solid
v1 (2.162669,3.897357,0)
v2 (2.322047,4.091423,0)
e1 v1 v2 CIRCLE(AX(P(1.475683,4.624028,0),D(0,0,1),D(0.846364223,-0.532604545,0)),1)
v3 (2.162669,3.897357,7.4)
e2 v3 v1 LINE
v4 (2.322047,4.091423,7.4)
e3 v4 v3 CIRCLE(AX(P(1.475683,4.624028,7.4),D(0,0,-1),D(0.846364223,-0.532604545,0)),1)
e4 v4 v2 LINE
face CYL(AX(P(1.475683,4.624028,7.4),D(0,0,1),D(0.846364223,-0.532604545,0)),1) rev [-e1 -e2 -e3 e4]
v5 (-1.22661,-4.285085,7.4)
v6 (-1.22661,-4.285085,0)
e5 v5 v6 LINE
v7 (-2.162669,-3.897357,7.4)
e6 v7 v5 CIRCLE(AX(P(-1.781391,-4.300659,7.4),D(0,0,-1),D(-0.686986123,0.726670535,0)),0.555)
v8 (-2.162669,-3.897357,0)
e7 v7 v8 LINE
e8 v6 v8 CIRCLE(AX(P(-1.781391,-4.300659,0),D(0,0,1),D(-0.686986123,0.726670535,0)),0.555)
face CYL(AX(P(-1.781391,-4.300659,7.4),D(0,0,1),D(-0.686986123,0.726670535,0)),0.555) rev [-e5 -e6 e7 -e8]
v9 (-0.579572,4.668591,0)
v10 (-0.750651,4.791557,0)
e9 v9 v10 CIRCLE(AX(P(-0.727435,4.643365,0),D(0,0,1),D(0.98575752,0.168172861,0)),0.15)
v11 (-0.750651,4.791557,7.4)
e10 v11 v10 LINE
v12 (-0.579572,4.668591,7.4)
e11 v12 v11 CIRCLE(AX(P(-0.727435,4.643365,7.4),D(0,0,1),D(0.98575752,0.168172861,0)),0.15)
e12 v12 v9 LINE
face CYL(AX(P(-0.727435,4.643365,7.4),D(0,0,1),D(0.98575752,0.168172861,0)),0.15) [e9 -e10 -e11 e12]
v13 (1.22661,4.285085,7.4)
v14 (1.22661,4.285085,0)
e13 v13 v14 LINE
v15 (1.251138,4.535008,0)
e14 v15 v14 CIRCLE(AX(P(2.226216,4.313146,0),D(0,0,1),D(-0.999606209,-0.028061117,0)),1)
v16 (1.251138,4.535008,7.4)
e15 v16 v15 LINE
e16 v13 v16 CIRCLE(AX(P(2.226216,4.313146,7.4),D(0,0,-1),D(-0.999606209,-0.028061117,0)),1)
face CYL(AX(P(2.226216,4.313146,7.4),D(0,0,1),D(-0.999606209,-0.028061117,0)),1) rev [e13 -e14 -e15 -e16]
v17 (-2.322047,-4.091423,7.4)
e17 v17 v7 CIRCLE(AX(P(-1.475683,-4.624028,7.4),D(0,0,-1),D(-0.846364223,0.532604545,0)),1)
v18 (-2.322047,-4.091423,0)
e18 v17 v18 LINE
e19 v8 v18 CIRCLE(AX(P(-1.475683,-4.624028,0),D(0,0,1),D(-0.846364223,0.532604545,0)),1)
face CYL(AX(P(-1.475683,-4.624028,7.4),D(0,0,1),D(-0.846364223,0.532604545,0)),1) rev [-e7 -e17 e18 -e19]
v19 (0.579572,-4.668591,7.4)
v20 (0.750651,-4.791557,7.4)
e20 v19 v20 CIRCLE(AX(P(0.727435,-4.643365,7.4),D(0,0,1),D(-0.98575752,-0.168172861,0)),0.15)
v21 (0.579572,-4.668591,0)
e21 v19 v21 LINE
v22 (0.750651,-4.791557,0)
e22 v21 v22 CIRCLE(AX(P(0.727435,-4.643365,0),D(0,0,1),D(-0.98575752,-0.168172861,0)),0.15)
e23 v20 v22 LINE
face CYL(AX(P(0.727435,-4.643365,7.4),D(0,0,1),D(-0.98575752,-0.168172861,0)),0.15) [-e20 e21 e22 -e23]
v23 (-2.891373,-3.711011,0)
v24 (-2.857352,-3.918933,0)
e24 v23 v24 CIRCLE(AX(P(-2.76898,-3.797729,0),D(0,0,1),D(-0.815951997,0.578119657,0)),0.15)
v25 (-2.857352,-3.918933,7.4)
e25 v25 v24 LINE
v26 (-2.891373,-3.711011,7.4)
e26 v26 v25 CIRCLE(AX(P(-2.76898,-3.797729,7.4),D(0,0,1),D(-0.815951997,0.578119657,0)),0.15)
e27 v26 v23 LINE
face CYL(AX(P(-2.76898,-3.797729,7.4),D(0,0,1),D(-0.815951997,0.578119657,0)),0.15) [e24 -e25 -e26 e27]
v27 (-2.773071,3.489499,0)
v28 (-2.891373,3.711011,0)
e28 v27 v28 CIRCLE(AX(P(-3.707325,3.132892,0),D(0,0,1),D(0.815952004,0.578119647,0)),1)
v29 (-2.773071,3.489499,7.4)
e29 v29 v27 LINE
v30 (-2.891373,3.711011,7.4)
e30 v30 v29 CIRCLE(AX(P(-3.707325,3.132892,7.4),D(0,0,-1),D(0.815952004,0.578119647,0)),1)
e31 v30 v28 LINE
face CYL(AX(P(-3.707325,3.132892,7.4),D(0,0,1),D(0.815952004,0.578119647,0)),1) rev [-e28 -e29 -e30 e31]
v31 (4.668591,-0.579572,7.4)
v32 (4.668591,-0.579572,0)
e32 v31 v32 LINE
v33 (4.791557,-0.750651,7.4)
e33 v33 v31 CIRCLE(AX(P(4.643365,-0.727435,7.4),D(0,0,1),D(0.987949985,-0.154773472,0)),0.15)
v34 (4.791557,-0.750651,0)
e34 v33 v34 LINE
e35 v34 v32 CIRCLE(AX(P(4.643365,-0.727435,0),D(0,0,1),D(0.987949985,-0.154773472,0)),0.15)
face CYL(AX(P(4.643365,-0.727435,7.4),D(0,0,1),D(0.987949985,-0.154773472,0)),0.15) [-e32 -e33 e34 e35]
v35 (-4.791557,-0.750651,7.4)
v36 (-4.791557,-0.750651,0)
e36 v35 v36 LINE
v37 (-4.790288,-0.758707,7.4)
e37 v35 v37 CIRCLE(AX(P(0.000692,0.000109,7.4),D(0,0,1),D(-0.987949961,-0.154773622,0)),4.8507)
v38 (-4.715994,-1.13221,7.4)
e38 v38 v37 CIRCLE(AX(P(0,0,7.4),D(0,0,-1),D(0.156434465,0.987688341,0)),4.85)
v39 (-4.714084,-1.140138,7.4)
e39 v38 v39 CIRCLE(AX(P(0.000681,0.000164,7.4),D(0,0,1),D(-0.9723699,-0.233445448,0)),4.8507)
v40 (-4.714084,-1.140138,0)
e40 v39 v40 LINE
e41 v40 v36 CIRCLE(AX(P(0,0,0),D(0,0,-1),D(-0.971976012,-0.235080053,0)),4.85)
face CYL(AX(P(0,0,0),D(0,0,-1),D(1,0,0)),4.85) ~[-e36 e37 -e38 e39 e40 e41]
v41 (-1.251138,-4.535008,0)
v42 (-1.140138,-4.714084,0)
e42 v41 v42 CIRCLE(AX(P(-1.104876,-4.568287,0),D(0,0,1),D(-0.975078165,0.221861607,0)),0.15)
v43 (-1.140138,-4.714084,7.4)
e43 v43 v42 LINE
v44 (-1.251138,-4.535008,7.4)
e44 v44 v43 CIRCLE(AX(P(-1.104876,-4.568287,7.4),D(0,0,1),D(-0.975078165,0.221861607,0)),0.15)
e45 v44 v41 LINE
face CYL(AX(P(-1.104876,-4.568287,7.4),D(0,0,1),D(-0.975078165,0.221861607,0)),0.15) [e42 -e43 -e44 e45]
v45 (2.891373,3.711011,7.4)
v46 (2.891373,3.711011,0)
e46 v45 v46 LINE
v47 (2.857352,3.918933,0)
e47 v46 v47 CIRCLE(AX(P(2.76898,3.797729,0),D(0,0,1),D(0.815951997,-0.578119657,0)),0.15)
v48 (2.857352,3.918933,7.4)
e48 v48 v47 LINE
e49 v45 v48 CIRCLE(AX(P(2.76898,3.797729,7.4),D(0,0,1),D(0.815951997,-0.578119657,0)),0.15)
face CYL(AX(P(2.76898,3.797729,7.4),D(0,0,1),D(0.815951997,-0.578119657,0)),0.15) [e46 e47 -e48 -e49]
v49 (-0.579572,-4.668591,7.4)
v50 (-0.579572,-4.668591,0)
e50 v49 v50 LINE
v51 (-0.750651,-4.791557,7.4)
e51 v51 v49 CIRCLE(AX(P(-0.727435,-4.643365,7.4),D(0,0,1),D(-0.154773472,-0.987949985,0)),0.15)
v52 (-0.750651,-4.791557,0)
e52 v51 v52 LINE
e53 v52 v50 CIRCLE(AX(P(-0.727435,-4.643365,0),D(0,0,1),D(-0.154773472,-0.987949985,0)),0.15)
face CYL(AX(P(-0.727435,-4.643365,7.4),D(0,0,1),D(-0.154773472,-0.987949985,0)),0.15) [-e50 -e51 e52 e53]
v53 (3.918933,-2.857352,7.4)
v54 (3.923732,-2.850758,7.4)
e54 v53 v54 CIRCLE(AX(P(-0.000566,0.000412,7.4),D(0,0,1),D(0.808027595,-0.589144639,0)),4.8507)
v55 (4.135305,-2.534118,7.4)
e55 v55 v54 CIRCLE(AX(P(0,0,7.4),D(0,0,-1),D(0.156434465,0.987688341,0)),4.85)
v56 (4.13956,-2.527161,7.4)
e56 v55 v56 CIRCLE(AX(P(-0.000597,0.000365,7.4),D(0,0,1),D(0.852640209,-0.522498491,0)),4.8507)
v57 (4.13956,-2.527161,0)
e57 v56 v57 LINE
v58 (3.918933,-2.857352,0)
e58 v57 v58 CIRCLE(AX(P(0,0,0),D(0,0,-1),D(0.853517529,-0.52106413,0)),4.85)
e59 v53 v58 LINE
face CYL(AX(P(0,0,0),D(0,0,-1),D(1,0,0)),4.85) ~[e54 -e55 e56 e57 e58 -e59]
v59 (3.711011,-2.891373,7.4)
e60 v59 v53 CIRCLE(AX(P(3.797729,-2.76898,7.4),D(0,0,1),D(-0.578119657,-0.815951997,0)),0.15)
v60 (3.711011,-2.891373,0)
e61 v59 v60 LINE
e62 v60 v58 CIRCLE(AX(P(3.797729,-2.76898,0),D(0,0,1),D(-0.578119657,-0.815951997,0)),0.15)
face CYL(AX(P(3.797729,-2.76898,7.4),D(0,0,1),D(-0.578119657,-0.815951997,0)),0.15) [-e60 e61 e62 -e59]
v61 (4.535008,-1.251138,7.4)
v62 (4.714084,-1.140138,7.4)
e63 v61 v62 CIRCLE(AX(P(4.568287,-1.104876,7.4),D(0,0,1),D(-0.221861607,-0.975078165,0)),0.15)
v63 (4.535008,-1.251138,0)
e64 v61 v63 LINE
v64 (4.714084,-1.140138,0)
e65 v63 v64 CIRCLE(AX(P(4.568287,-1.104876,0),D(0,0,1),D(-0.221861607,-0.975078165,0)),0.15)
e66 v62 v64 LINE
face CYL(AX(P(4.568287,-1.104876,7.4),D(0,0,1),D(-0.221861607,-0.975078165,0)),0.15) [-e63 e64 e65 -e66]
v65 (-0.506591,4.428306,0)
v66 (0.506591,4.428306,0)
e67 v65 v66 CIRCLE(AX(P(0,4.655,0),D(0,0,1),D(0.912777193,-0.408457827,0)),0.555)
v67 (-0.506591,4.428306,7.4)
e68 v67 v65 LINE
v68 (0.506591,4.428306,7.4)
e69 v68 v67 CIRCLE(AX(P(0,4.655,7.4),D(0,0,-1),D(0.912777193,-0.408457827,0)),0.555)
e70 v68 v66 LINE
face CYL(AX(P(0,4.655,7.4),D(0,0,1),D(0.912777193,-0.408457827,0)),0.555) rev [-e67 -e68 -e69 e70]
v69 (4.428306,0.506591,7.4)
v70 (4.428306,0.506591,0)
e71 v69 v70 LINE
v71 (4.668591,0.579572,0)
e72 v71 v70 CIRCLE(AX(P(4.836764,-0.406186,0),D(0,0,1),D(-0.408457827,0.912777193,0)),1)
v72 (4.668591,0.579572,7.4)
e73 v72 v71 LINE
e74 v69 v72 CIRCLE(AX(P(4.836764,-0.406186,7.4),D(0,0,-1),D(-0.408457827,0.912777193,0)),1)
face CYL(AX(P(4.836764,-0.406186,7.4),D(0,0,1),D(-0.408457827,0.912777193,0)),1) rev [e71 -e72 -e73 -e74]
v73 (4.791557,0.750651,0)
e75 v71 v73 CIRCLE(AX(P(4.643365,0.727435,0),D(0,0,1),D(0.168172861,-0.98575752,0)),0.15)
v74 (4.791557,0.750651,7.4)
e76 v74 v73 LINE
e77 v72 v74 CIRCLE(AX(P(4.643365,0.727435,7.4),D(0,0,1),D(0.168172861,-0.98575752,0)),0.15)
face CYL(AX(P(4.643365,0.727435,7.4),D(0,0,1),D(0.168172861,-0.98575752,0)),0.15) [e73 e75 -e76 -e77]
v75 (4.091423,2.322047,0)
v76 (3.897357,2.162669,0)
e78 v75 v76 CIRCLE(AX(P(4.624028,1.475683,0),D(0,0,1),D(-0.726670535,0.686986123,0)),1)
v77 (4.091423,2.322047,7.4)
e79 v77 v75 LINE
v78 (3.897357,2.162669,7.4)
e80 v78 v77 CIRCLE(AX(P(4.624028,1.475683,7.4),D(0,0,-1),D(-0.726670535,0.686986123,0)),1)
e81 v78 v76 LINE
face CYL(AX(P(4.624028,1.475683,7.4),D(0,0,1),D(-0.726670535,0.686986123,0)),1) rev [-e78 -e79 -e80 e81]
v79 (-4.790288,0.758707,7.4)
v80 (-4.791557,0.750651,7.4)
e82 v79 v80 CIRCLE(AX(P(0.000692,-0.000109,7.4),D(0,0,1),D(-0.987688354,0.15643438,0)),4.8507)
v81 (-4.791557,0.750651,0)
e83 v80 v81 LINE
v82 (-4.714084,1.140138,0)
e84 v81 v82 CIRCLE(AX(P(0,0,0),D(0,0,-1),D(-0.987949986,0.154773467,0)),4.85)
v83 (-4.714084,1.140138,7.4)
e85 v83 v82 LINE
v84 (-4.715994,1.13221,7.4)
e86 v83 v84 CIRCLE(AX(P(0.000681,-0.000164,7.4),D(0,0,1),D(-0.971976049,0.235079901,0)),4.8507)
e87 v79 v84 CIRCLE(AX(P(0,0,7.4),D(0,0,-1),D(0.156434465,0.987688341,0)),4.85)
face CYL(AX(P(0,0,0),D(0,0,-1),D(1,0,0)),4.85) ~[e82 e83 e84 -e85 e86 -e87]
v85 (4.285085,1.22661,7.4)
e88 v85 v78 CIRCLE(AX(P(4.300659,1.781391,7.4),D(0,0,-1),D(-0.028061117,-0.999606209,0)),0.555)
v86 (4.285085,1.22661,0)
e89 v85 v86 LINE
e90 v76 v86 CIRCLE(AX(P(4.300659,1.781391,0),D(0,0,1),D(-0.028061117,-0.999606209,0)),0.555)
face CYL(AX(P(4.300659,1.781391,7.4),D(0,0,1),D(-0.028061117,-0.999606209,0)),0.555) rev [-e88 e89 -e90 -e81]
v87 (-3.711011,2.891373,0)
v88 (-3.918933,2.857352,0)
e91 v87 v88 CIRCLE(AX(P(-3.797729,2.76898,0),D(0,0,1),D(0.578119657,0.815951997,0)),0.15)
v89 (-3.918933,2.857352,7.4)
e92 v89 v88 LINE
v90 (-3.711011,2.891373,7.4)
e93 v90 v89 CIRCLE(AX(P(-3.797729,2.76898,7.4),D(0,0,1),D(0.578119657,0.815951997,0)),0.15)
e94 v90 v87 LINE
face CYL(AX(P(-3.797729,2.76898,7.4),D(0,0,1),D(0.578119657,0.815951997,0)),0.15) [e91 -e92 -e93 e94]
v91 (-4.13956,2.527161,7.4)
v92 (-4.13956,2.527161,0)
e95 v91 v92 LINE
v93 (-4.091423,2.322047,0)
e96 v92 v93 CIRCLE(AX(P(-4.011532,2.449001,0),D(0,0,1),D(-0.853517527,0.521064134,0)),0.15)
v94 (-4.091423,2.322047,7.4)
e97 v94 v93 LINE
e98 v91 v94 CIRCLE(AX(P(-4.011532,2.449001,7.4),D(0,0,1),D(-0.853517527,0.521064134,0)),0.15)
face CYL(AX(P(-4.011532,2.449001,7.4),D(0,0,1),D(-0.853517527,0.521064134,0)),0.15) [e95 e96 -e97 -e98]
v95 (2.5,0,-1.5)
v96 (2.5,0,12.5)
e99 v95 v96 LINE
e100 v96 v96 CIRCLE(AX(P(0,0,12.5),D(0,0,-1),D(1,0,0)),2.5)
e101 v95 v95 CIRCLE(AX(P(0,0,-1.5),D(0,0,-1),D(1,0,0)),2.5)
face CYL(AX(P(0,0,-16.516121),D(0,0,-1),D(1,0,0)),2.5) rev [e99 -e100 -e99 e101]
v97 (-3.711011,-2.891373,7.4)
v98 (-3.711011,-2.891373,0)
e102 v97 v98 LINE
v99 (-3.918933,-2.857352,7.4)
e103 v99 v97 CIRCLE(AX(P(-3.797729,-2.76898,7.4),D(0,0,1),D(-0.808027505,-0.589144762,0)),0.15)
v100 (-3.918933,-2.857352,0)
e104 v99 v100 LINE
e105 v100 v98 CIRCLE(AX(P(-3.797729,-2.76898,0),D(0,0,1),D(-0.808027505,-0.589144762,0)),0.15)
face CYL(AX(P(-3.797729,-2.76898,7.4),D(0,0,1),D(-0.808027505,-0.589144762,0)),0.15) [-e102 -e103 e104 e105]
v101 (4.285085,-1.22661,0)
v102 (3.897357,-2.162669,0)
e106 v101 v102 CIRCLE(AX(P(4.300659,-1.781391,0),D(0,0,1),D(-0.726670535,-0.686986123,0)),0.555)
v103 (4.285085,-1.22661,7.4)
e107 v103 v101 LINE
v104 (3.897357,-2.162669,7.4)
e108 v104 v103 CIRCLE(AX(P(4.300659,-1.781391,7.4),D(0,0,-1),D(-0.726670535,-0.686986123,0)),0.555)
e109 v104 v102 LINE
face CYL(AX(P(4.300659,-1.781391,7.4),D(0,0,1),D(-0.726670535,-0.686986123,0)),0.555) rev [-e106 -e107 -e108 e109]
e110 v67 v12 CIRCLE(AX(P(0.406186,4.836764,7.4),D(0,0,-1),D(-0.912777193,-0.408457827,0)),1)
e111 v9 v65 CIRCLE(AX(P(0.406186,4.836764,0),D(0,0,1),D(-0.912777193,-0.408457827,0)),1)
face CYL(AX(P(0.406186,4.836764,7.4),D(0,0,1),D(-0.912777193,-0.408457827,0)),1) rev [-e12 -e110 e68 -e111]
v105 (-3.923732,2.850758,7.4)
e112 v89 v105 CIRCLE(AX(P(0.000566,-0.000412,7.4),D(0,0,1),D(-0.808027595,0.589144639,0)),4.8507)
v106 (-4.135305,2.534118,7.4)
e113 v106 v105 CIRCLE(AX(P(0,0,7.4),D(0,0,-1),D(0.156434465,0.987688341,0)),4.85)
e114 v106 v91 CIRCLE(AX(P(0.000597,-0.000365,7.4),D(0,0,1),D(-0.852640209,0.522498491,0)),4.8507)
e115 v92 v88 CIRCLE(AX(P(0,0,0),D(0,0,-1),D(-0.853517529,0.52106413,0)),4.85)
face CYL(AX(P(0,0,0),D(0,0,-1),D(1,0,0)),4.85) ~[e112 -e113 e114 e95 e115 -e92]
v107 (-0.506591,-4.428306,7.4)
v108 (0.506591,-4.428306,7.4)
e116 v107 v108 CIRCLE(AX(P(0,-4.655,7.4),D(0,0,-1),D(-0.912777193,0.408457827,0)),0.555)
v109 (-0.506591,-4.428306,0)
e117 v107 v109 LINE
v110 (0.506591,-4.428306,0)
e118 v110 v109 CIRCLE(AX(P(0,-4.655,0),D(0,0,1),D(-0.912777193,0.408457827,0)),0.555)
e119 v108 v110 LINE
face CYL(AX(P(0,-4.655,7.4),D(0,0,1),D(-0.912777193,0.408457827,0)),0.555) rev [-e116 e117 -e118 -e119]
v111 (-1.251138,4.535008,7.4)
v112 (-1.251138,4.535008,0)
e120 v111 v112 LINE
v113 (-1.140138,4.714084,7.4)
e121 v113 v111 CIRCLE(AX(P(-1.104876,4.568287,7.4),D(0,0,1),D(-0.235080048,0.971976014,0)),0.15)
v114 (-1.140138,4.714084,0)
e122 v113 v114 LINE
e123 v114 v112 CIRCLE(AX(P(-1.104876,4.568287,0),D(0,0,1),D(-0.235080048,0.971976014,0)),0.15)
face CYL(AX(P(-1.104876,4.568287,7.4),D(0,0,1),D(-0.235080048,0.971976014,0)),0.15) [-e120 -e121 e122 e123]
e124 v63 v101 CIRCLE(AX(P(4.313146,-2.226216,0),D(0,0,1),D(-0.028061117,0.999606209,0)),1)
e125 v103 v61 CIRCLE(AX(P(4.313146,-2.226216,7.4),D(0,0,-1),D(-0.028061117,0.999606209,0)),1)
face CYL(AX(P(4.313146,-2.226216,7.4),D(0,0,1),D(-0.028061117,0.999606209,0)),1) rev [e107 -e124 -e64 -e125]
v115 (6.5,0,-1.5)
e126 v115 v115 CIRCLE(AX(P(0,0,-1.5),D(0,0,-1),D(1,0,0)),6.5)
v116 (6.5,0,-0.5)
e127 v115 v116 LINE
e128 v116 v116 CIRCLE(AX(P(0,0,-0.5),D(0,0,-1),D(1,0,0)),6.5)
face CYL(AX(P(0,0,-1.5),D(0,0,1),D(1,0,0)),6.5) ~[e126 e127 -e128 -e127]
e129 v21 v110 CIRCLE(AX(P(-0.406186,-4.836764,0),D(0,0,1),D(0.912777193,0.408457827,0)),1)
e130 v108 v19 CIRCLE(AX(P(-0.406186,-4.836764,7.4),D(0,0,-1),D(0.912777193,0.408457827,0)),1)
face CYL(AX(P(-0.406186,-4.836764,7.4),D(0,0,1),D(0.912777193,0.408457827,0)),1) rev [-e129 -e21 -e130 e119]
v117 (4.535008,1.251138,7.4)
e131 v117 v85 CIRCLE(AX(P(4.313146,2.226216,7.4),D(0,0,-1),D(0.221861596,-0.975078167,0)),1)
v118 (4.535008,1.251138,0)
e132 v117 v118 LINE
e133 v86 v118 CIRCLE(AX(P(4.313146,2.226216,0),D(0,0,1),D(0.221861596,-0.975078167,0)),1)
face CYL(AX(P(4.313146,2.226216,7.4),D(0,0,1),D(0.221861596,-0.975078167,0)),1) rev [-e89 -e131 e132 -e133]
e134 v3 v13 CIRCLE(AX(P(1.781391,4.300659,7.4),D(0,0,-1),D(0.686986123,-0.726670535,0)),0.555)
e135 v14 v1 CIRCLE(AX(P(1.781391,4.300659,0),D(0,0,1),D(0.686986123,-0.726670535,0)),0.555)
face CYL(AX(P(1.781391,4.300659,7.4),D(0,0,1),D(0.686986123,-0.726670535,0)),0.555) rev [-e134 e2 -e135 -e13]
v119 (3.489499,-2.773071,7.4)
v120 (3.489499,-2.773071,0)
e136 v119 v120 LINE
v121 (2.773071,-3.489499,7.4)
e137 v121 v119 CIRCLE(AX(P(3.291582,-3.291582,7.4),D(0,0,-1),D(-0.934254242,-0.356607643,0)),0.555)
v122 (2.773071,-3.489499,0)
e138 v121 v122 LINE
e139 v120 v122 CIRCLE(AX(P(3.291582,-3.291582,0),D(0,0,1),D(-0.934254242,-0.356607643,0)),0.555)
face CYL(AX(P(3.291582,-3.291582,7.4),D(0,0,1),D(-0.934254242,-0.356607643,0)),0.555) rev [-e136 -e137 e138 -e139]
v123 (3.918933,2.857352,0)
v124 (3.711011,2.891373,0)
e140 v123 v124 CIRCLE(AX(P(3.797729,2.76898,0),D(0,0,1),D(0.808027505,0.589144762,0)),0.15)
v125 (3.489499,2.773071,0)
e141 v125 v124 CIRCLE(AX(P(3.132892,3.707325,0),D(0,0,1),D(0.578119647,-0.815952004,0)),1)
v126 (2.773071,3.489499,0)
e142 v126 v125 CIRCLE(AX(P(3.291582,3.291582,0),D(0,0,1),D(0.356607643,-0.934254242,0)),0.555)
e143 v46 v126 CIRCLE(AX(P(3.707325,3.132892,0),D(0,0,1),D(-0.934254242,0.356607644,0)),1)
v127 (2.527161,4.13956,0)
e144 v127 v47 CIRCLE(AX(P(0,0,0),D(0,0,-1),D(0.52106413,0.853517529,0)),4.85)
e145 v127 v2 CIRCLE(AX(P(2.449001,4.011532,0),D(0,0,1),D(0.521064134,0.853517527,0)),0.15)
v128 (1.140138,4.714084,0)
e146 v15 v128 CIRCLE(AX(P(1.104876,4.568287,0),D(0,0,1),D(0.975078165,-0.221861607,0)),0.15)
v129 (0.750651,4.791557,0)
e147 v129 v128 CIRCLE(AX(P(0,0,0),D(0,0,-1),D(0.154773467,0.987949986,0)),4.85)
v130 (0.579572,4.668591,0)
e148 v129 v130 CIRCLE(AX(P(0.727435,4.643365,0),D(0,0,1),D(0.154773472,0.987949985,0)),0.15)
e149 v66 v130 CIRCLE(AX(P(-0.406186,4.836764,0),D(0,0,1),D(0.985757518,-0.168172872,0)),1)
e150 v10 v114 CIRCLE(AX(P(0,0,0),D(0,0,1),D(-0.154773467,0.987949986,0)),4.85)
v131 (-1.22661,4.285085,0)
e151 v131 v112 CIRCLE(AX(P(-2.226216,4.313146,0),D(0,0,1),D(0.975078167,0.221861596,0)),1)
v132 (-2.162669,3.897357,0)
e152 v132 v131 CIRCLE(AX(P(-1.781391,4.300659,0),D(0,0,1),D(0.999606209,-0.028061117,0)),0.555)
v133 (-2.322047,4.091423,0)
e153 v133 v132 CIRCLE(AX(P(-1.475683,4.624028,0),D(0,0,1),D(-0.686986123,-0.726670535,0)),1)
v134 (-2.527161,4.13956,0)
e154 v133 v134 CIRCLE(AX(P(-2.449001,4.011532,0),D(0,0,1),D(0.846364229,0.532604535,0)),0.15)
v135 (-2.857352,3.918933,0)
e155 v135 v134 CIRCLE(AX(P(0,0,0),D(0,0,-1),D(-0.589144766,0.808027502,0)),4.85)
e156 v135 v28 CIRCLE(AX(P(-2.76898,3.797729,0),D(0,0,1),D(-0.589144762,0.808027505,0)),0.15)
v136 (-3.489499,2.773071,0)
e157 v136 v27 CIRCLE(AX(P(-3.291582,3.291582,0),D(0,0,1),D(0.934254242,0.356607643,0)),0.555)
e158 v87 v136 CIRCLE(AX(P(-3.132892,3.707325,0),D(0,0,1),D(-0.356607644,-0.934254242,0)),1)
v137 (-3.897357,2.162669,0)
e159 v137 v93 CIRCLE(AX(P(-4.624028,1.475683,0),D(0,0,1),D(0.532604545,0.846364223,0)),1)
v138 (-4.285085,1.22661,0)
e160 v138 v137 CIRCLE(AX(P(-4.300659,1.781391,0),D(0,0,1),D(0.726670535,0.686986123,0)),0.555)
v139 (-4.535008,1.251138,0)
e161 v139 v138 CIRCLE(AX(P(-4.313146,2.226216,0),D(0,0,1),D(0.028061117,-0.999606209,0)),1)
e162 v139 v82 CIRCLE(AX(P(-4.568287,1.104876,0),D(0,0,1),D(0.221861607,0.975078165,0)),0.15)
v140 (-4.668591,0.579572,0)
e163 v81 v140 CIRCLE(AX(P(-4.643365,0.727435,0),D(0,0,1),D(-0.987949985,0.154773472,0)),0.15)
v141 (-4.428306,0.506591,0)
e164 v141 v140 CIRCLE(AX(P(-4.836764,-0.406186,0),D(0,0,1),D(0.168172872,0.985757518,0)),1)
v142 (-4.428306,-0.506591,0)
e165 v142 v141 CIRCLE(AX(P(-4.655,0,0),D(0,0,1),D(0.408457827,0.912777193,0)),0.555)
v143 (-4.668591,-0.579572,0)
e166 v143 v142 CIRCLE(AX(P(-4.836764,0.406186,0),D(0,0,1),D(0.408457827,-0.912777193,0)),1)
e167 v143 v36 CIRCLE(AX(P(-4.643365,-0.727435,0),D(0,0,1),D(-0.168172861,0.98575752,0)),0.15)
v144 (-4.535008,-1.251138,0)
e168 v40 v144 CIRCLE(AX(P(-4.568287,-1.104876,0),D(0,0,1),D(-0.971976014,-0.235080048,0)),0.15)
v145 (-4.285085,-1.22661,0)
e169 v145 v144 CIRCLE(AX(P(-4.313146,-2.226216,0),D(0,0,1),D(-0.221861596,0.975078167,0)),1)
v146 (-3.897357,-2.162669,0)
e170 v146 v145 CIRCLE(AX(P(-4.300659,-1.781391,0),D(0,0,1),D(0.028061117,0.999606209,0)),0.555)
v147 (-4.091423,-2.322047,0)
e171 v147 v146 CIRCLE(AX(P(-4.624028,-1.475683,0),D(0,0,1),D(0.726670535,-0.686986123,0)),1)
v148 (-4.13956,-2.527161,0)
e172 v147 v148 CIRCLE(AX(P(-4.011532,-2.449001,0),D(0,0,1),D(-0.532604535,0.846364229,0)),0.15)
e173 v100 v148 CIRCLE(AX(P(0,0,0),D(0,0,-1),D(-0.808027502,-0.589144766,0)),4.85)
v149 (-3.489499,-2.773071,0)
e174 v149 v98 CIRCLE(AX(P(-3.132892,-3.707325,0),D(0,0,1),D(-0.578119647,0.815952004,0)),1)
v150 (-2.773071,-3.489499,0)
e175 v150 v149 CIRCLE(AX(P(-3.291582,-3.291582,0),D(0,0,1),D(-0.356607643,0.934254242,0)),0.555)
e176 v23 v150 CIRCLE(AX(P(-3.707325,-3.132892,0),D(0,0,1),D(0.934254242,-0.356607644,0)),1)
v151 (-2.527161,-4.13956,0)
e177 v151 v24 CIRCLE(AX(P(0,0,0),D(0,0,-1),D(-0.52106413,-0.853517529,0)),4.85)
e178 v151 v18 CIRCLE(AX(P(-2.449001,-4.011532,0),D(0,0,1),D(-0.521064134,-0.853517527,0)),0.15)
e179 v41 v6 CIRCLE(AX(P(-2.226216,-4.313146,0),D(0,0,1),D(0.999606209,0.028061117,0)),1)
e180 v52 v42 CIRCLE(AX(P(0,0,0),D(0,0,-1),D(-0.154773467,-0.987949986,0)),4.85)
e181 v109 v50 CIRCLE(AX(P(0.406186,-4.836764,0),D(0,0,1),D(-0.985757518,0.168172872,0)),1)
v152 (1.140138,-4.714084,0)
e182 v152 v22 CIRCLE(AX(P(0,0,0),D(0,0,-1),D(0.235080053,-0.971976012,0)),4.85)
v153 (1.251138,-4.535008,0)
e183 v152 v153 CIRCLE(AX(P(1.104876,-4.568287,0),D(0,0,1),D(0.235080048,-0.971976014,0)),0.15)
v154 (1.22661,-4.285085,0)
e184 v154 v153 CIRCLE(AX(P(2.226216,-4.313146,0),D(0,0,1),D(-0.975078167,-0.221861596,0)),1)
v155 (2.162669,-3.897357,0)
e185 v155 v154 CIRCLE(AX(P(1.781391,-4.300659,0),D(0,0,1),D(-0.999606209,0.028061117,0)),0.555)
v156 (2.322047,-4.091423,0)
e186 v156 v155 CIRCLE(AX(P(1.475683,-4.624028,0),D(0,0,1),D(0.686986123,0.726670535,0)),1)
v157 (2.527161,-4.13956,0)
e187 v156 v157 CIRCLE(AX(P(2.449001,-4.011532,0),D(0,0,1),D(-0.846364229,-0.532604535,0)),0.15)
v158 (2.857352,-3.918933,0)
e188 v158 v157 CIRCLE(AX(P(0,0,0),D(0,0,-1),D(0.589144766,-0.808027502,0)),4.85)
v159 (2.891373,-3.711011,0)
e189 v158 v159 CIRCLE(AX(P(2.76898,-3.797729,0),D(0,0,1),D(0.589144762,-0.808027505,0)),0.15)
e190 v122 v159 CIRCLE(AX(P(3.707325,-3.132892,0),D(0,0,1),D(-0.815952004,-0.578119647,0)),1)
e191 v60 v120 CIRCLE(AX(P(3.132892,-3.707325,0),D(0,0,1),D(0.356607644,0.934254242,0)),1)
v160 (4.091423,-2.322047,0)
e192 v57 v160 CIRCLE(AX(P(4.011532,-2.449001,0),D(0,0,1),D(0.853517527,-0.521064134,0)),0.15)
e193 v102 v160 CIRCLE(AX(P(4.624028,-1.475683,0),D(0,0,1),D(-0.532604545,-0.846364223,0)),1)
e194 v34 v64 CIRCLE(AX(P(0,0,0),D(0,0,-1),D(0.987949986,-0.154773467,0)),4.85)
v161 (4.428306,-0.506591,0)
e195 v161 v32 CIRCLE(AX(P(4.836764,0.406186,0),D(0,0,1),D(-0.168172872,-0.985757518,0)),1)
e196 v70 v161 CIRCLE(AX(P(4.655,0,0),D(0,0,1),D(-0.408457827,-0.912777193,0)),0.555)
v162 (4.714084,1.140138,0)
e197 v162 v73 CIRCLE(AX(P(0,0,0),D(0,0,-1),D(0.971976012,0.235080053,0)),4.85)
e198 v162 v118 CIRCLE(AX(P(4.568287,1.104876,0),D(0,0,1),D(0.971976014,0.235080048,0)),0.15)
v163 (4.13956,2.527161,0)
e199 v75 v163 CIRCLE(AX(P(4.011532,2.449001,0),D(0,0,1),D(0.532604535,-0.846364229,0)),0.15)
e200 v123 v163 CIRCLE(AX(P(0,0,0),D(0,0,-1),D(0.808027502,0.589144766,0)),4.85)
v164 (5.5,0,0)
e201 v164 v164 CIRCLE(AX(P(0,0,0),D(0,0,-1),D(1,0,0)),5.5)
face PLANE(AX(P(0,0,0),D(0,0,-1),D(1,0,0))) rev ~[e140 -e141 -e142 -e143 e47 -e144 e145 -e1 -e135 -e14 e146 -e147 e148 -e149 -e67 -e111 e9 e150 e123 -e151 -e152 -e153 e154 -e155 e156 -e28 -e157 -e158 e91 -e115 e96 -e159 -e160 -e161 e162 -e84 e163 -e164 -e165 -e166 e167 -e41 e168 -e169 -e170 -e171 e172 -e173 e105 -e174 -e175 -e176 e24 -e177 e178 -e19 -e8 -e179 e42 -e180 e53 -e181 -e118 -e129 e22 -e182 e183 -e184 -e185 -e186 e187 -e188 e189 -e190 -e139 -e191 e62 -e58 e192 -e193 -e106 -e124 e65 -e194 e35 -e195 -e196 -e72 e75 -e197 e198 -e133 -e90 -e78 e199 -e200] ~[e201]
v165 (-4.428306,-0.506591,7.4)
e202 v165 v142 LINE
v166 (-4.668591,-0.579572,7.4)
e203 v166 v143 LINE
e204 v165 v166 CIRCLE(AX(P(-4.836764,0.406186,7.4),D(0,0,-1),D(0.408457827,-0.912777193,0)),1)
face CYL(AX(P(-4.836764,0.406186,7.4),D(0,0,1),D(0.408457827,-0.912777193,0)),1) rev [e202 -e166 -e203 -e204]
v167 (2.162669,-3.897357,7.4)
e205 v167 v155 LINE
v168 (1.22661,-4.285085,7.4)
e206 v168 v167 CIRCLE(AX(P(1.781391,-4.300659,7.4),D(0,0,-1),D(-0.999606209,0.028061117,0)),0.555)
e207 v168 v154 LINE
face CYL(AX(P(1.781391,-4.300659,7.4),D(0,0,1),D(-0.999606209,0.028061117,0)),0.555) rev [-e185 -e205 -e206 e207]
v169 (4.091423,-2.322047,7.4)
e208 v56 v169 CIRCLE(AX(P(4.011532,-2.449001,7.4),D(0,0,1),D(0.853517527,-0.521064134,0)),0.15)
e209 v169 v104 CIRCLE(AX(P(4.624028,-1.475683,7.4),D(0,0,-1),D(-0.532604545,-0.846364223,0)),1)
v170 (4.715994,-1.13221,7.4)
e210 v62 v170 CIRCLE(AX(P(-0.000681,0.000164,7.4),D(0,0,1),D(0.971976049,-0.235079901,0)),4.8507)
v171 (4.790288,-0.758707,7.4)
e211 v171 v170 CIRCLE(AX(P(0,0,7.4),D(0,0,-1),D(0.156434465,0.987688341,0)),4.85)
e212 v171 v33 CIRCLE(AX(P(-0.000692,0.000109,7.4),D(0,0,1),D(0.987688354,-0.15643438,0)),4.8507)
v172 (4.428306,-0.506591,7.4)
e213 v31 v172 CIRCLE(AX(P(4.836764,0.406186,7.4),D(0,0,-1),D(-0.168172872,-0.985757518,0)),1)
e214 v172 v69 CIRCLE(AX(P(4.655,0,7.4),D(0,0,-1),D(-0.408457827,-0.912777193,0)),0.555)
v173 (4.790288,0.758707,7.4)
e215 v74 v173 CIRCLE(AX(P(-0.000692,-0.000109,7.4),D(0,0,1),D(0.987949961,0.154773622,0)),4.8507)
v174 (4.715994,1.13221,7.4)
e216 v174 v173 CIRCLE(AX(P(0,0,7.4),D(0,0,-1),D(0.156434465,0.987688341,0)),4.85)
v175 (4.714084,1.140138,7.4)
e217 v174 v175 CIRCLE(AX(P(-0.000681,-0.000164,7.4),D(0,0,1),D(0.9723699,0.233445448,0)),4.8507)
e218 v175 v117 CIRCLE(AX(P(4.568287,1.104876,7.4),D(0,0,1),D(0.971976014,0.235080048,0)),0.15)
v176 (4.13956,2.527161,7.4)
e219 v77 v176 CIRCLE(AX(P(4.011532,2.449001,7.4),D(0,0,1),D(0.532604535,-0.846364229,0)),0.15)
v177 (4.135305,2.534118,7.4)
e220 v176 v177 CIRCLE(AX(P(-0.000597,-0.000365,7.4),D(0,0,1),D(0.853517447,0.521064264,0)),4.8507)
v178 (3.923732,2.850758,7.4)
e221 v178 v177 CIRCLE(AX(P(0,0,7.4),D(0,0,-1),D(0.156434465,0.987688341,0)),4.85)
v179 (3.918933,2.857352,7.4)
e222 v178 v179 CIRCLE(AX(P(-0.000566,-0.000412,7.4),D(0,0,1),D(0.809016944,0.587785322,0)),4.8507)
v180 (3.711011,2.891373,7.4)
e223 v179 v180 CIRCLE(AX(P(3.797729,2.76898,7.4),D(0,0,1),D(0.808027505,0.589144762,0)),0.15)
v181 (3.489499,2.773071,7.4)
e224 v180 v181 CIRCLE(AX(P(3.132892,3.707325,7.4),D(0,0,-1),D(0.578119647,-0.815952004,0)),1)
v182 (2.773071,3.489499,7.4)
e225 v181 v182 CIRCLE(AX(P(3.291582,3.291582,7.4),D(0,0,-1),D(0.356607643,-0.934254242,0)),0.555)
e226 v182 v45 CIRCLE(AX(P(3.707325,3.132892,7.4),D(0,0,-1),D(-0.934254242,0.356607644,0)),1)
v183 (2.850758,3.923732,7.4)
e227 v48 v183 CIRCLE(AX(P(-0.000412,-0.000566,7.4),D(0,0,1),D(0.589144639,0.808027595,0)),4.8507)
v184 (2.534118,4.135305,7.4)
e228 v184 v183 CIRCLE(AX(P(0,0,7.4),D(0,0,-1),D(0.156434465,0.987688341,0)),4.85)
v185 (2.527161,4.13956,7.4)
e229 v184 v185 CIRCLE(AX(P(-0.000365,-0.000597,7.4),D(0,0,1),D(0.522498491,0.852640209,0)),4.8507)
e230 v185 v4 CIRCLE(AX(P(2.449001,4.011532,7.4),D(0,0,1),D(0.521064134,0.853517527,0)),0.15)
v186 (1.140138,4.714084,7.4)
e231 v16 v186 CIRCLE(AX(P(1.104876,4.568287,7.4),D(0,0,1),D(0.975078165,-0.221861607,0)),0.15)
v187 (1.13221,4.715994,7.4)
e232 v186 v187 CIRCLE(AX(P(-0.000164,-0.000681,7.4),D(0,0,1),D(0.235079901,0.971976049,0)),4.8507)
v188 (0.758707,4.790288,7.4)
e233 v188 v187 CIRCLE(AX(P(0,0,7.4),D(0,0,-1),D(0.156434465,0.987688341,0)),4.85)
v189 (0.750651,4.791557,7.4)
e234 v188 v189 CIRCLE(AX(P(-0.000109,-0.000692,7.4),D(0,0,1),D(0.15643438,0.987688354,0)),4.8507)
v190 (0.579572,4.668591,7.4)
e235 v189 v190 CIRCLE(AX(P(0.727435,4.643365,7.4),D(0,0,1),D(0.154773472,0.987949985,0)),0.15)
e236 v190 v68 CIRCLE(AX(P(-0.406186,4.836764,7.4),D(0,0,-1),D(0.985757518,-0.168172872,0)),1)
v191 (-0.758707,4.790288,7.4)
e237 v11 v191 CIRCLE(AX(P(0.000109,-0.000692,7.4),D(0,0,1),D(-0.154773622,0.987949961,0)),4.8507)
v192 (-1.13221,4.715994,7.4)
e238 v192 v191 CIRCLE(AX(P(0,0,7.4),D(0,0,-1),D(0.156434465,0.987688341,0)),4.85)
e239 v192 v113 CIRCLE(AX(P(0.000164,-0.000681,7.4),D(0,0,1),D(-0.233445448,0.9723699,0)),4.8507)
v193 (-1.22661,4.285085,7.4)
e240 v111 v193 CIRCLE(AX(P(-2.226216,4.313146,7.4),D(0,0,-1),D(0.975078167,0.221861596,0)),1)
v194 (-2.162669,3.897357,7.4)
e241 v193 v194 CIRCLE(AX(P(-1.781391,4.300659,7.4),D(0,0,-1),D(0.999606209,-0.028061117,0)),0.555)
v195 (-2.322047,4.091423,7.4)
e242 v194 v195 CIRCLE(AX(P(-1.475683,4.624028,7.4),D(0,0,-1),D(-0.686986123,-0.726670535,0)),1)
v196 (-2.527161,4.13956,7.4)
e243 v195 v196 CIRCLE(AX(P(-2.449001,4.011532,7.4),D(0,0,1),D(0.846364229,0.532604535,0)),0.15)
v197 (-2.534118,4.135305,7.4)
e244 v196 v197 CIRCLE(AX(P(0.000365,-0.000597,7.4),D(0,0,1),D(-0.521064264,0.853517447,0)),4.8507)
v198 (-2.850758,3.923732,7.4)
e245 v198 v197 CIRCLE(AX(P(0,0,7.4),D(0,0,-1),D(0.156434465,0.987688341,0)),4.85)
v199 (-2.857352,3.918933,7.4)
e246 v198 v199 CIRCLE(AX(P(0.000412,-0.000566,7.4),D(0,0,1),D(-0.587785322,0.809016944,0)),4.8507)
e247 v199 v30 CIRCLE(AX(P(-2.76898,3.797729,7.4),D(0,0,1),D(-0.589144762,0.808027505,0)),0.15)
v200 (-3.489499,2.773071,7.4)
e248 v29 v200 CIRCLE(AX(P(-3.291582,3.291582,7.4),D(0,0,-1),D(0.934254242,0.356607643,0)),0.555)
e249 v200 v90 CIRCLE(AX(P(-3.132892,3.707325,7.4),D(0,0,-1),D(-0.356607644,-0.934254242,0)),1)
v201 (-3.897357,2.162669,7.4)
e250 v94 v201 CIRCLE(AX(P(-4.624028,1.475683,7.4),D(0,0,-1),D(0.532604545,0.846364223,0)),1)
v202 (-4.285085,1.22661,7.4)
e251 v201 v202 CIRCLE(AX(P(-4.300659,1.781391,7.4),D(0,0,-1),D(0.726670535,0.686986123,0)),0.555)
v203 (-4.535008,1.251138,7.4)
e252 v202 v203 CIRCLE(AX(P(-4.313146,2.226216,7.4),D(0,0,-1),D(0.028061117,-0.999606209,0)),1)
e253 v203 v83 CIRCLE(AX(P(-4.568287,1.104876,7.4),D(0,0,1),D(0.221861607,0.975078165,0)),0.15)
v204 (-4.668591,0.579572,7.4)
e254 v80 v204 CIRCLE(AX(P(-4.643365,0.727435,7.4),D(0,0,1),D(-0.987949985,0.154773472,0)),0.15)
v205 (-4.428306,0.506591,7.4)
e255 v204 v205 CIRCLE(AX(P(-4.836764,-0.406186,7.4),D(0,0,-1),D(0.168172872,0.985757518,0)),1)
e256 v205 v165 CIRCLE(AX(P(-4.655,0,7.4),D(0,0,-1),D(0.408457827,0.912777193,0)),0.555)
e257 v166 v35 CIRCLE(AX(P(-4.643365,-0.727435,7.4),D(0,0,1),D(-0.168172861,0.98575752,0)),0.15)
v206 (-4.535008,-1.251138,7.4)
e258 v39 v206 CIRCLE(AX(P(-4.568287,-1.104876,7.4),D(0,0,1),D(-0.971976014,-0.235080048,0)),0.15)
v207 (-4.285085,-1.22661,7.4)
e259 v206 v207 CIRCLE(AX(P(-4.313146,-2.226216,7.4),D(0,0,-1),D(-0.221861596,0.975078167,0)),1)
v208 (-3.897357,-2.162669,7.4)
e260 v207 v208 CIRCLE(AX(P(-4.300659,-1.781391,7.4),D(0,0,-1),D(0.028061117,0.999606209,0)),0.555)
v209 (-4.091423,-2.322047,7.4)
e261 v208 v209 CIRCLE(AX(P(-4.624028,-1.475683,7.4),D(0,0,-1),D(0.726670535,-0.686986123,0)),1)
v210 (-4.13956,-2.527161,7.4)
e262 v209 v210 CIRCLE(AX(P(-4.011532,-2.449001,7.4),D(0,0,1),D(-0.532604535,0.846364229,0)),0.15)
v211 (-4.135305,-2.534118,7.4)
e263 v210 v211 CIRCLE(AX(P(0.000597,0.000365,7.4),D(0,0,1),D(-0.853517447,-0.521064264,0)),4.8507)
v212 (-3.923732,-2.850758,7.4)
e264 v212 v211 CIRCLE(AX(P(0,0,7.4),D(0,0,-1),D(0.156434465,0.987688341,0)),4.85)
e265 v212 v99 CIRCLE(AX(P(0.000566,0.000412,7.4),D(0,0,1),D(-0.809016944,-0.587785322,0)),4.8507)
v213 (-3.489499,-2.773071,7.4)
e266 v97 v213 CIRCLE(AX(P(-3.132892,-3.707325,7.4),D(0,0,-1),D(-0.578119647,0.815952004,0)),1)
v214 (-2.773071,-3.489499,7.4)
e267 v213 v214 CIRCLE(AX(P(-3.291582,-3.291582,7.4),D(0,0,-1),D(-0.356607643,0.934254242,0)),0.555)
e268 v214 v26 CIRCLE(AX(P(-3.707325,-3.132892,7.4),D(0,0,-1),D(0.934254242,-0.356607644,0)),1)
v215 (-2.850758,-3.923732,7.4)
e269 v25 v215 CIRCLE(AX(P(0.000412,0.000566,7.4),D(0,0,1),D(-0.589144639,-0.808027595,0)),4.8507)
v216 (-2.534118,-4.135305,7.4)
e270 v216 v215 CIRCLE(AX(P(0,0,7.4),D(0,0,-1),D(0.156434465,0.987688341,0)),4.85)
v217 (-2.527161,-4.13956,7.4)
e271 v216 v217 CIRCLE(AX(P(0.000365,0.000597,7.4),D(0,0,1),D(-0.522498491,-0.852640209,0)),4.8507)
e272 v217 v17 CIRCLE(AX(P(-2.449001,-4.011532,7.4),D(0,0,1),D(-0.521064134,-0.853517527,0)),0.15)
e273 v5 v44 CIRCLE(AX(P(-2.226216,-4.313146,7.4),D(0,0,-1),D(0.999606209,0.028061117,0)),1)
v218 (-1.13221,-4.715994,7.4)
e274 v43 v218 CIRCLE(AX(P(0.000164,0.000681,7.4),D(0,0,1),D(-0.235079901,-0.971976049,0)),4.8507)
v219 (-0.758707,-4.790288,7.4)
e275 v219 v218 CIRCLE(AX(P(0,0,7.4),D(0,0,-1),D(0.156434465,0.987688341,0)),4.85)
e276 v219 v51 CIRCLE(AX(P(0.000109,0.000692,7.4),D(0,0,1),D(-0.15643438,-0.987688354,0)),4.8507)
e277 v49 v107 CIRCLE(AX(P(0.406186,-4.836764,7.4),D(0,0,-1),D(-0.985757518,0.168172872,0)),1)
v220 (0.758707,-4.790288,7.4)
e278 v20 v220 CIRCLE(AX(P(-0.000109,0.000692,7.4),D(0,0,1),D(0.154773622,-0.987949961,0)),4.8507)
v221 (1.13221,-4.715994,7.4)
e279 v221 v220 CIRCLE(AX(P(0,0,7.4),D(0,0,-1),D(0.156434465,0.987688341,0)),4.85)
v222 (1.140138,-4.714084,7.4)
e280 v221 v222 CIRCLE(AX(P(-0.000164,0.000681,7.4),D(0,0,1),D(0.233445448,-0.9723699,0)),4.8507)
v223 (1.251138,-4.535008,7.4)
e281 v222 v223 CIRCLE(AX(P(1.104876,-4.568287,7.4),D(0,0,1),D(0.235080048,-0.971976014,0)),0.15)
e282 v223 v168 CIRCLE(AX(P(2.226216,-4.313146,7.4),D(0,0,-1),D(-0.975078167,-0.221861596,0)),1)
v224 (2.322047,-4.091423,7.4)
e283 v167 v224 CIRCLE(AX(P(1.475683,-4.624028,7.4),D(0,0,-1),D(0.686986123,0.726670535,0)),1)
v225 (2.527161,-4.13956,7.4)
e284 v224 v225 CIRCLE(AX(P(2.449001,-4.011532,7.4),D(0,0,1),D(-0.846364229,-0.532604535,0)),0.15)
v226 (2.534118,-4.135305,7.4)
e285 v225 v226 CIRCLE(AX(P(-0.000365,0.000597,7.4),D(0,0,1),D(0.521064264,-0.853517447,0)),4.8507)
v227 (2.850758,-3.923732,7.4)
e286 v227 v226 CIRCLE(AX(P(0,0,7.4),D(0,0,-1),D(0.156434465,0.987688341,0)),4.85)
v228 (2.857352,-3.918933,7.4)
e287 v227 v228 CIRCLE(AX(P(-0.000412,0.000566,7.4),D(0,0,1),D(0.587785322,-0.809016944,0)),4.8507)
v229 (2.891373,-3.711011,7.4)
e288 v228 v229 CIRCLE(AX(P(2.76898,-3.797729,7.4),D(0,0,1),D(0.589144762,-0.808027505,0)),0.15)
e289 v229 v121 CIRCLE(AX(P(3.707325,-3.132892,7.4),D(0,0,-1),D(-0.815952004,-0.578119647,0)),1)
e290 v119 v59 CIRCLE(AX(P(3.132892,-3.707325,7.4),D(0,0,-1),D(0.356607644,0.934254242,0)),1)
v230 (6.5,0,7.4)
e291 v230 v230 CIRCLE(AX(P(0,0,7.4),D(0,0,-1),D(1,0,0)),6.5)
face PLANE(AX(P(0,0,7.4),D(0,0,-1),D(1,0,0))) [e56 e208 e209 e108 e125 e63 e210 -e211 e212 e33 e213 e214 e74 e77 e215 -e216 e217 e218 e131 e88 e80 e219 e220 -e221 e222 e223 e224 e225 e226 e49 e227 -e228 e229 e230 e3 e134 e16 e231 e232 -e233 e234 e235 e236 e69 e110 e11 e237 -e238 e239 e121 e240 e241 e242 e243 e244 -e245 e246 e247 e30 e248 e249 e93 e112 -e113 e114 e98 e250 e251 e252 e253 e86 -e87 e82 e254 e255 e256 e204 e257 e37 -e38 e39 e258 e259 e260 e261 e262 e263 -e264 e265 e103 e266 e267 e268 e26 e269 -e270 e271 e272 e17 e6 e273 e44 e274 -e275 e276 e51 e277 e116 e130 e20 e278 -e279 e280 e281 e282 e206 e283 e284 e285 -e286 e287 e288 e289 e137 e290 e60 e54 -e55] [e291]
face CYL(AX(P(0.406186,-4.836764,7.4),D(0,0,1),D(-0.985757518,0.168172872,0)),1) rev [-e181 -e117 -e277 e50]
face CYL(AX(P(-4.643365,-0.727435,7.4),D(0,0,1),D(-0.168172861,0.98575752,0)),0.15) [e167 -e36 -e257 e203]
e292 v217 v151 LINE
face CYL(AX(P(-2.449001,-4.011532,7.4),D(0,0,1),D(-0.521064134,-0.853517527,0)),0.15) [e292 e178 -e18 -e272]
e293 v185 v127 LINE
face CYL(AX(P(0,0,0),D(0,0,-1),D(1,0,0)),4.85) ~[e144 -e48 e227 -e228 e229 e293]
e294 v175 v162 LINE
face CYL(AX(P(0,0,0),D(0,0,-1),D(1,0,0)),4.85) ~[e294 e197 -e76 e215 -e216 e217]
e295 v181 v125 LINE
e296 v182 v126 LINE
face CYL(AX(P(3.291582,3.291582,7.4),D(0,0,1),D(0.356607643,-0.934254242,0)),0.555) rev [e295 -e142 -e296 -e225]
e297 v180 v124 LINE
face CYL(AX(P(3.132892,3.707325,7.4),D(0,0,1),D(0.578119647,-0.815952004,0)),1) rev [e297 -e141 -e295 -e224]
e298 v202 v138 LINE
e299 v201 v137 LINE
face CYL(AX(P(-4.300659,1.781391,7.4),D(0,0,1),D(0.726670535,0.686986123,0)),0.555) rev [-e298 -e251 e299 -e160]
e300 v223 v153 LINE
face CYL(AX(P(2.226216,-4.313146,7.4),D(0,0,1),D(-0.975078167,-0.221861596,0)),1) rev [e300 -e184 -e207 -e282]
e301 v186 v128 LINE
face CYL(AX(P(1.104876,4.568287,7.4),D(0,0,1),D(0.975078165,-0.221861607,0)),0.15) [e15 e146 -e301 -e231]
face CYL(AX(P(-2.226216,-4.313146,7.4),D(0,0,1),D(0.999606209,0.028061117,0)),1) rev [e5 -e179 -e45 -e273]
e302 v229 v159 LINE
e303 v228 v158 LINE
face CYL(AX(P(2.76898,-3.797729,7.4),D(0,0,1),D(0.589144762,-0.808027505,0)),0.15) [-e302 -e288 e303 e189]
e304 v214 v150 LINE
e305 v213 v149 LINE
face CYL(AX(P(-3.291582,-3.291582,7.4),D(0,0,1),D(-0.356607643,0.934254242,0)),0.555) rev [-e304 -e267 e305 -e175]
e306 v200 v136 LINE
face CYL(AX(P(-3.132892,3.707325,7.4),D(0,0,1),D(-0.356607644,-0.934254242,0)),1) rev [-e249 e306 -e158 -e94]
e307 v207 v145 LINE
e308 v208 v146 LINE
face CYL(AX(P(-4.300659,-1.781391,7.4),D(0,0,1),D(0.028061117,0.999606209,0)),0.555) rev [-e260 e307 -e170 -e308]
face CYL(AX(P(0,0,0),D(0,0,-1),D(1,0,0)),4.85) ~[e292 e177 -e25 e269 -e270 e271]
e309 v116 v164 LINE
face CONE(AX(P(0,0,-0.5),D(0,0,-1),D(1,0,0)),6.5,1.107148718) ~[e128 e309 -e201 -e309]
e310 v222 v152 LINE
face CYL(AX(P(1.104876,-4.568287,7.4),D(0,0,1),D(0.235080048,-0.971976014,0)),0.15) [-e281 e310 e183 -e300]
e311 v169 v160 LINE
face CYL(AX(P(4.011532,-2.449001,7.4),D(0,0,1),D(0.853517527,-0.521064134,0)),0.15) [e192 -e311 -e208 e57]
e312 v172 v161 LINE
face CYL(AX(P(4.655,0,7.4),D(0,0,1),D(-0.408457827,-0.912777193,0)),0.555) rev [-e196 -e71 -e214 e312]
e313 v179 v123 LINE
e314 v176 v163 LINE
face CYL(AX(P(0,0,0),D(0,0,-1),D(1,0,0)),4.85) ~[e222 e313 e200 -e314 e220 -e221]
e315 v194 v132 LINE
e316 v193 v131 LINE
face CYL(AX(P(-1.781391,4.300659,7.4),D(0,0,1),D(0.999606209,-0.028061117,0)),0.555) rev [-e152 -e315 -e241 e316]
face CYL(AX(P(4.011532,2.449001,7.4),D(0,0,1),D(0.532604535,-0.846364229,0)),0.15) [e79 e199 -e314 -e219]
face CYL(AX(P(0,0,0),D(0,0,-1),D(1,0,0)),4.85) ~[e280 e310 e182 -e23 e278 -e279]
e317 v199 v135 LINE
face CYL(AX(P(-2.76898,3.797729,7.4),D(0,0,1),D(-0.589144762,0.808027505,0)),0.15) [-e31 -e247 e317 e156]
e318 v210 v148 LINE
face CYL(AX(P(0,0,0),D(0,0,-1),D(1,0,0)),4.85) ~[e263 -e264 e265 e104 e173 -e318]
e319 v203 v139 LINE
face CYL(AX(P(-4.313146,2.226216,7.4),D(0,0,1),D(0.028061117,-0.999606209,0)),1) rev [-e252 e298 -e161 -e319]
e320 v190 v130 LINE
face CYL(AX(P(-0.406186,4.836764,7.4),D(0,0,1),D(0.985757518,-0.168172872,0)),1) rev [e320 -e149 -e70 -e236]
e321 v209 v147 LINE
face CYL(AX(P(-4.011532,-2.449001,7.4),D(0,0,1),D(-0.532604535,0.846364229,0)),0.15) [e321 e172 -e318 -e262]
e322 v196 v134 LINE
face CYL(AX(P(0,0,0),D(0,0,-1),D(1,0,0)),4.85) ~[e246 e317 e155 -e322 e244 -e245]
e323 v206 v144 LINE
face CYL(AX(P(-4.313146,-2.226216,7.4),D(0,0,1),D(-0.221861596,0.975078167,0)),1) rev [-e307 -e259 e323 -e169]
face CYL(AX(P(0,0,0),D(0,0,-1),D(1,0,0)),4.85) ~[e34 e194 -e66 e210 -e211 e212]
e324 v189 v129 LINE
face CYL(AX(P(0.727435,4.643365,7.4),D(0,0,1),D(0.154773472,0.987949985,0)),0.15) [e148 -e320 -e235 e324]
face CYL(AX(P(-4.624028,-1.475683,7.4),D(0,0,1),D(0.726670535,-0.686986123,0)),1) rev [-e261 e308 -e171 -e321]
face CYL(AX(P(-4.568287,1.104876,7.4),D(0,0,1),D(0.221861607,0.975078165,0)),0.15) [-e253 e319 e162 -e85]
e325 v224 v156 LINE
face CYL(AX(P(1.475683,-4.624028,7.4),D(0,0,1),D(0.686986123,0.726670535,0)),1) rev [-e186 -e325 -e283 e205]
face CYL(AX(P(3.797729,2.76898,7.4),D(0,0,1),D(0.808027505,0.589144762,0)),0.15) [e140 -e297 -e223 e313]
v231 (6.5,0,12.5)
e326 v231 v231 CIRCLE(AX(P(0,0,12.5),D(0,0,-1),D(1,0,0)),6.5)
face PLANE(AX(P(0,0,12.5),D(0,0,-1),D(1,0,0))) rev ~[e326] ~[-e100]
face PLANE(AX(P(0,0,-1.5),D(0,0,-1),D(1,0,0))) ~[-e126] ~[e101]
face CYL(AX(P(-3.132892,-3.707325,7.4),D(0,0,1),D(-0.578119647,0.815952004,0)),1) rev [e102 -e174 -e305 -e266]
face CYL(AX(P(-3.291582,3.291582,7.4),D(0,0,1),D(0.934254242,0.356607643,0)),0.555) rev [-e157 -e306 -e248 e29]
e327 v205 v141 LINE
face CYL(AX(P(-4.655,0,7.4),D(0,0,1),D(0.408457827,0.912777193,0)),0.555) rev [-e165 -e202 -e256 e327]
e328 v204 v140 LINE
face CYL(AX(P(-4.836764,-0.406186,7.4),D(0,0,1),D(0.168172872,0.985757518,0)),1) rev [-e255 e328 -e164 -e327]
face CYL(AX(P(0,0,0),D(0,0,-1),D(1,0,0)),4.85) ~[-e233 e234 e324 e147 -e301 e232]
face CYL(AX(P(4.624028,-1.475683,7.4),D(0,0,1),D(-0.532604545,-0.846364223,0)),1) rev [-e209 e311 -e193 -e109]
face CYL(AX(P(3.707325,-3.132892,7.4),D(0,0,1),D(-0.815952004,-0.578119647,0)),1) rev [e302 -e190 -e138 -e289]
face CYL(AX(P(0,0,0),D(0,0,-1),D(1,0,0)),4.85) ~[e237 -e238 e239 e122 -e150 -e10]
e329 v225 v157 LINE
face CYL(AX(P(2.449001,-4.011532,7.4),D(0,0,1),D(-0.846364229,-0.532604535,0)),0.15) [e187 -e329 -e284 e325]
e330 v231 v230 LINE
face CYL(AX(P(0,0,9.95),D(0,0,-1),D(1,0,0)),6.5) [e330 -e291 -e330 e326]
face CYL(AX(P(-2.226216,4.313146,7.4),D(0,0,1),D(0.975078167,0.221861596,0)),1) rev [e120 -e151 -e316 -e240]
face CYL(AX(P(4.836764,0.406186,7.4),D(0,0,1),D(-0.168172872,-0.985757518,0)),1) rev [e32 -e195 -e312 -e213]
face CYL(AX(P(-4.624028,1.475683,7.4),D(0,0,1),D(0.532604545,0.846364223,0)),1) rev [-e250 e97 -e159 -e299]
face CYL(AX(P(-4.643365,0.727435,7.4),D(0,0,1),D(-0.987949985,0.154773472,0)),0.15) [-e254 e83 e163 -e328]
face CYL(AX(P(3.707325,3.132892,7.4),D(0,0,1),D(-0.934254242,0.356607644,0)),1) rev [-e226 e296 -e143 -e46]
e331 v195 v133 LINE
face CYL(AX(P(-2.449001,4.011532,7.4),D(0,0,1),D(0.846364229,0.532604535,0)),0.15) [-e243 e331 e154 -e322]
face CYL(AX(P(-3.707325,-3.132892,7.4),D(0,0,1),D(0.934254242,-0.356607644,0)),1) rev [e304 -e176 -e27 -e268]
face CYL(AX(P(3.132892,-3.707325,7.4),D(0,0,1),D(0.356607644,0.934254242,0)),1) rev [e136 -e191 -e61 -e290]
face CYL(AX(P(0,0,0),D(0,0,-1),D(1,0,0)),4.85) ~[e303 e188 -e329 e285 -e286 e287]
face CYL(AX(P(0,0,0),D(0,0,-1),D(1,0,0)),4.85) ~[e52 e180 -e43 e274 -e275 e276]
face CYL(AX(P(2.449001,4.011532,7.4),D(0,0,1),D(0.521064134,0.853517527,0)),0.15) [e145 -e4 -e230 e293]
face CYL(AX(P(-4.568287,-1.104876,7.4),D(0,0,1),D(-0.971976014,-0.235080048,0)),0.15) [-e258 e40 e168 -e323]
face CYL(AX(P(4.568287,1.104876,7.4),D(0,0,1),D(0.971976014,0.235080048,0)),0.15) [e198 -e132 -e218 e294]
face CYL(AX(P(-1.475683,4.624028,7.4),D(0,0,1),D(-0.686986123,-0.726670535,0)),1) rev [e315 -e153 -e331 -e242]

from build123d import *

# Parameters (mm, degrees)
SKETCH1_R            = 4.85
BASE_DEPTH           = 7.4
TOOTHCUT_DEPTH       = 11.089846381
TEETHCUTS_COUNT      = 16
SKETCH3_W            = 6.5
SKETCH3_H            = 5.1
SHAFTHOLE_DEPTH      = 16.516120649
SHAFTHOLE_DEPTH_BACK = 16.516120649
SKETCH4_R            = 2.5


with BuildPart() as part:
    # Sketch1 → Base (new body)
    with BuildSketch(Plane.XY):
        Circle(SKETCH1_R)
    extrude(amount=BASE_DEPTH)

    # Sketch2 → ToothCut (cut, through all)
    with BuildSketch(Plane.XY.offset(7.4)):
        with BuildLine():
            Line((-0.758707155, 4.790288452), (-0.789765541, 5.545021864))
            Line((-0.789765541, 5.545021864), (0.920739556, 5.545021864))
            Line((0.920739556, 5.545021864), (0.758707155, 4.790288452))
            ThreePointArc((0.758707155, 4.790288452), (0.754679502, 4.790924634), (0.750651316, 4.79155743))
            ThreePointArc((0.750651316, 4.79155743), (0.639888447, 4.765166202), (0.579571668, 4.668590862))
            ThreePointArc((0.579571668, 4.668590862), (0.550654119, 4.546148399), (0.506591342, 4.428305906))
            ThreePointArc((0.506591342, 4.428305906), (0, 4.1), (-0.506591342, 4.428305906))
            ThreePointArc((-0.506591342, 4.428305906), (-0.550654119, 4.546148399), (-0.579571668, 4.668590862))
            ThreePointArc((-0.579571668, 4.668590862), (-0.639888447, 4.765166202), (-0.750651316, 4.79155743))
            ThreePointArc((-0.750651316, 4.79155743), (-0.754679502, 4.790924634), (-0.758707155, 4.790288452))
        make_face()
    toothcut = extrude(amount=-TOOTHCUT_DEPTH, mode=Mode.SUBTRACT)

    # TeethCuts: ToothCut ×16 about axis
    teethcuts_axis = Axis((0, 0, 0), (0, 0, 1))
    for i in range(1, TEETHCUTS_COUNT):
        add(toothcut.rotate(teethcuts_axis, i * 360 / TEETHCUTS_COUNT), mode=Mode.SUBTRACT)

    # Sketch3 → Body (revolve)
    with BuildSketch(Plane(origin=(0, 0, 0), x_dir=(1, 0, 0), z_dir=(0, 1, 0)), mode=Mode.PRIVATE) as body_sk:
        Polygon((0, 0), (0, 1.5), (-6.5, 1.5), (-6.5, 0.5), (-5.5, 0), align=None)
        with Locations((-3.25, -9.95)):
            Rectangle(SKETCH3_W, SKETCH3_H)
    revolve(body_sk.sketch.rotate(Axis((0, 0, 12.5), (0, 0, -1)), 180), axis=Axis((0, 0, 12.5), (0, 0, -1)))

    # Sketch4 → ShaftHole (cut, two sides: drawn at the far end of the back side and taken through both)
    with BuildSketch(Plane.XY.offset(-SHAFTHOLE_DEPTH_BACK)):
        Circle(SKETCH4_R)
    extrude(amount=SHAFTHOLE_DEPTH + SHAFTHOLE_DEPTH_BACK, mode=Mode.SUBTRACT)


solid = part.part
